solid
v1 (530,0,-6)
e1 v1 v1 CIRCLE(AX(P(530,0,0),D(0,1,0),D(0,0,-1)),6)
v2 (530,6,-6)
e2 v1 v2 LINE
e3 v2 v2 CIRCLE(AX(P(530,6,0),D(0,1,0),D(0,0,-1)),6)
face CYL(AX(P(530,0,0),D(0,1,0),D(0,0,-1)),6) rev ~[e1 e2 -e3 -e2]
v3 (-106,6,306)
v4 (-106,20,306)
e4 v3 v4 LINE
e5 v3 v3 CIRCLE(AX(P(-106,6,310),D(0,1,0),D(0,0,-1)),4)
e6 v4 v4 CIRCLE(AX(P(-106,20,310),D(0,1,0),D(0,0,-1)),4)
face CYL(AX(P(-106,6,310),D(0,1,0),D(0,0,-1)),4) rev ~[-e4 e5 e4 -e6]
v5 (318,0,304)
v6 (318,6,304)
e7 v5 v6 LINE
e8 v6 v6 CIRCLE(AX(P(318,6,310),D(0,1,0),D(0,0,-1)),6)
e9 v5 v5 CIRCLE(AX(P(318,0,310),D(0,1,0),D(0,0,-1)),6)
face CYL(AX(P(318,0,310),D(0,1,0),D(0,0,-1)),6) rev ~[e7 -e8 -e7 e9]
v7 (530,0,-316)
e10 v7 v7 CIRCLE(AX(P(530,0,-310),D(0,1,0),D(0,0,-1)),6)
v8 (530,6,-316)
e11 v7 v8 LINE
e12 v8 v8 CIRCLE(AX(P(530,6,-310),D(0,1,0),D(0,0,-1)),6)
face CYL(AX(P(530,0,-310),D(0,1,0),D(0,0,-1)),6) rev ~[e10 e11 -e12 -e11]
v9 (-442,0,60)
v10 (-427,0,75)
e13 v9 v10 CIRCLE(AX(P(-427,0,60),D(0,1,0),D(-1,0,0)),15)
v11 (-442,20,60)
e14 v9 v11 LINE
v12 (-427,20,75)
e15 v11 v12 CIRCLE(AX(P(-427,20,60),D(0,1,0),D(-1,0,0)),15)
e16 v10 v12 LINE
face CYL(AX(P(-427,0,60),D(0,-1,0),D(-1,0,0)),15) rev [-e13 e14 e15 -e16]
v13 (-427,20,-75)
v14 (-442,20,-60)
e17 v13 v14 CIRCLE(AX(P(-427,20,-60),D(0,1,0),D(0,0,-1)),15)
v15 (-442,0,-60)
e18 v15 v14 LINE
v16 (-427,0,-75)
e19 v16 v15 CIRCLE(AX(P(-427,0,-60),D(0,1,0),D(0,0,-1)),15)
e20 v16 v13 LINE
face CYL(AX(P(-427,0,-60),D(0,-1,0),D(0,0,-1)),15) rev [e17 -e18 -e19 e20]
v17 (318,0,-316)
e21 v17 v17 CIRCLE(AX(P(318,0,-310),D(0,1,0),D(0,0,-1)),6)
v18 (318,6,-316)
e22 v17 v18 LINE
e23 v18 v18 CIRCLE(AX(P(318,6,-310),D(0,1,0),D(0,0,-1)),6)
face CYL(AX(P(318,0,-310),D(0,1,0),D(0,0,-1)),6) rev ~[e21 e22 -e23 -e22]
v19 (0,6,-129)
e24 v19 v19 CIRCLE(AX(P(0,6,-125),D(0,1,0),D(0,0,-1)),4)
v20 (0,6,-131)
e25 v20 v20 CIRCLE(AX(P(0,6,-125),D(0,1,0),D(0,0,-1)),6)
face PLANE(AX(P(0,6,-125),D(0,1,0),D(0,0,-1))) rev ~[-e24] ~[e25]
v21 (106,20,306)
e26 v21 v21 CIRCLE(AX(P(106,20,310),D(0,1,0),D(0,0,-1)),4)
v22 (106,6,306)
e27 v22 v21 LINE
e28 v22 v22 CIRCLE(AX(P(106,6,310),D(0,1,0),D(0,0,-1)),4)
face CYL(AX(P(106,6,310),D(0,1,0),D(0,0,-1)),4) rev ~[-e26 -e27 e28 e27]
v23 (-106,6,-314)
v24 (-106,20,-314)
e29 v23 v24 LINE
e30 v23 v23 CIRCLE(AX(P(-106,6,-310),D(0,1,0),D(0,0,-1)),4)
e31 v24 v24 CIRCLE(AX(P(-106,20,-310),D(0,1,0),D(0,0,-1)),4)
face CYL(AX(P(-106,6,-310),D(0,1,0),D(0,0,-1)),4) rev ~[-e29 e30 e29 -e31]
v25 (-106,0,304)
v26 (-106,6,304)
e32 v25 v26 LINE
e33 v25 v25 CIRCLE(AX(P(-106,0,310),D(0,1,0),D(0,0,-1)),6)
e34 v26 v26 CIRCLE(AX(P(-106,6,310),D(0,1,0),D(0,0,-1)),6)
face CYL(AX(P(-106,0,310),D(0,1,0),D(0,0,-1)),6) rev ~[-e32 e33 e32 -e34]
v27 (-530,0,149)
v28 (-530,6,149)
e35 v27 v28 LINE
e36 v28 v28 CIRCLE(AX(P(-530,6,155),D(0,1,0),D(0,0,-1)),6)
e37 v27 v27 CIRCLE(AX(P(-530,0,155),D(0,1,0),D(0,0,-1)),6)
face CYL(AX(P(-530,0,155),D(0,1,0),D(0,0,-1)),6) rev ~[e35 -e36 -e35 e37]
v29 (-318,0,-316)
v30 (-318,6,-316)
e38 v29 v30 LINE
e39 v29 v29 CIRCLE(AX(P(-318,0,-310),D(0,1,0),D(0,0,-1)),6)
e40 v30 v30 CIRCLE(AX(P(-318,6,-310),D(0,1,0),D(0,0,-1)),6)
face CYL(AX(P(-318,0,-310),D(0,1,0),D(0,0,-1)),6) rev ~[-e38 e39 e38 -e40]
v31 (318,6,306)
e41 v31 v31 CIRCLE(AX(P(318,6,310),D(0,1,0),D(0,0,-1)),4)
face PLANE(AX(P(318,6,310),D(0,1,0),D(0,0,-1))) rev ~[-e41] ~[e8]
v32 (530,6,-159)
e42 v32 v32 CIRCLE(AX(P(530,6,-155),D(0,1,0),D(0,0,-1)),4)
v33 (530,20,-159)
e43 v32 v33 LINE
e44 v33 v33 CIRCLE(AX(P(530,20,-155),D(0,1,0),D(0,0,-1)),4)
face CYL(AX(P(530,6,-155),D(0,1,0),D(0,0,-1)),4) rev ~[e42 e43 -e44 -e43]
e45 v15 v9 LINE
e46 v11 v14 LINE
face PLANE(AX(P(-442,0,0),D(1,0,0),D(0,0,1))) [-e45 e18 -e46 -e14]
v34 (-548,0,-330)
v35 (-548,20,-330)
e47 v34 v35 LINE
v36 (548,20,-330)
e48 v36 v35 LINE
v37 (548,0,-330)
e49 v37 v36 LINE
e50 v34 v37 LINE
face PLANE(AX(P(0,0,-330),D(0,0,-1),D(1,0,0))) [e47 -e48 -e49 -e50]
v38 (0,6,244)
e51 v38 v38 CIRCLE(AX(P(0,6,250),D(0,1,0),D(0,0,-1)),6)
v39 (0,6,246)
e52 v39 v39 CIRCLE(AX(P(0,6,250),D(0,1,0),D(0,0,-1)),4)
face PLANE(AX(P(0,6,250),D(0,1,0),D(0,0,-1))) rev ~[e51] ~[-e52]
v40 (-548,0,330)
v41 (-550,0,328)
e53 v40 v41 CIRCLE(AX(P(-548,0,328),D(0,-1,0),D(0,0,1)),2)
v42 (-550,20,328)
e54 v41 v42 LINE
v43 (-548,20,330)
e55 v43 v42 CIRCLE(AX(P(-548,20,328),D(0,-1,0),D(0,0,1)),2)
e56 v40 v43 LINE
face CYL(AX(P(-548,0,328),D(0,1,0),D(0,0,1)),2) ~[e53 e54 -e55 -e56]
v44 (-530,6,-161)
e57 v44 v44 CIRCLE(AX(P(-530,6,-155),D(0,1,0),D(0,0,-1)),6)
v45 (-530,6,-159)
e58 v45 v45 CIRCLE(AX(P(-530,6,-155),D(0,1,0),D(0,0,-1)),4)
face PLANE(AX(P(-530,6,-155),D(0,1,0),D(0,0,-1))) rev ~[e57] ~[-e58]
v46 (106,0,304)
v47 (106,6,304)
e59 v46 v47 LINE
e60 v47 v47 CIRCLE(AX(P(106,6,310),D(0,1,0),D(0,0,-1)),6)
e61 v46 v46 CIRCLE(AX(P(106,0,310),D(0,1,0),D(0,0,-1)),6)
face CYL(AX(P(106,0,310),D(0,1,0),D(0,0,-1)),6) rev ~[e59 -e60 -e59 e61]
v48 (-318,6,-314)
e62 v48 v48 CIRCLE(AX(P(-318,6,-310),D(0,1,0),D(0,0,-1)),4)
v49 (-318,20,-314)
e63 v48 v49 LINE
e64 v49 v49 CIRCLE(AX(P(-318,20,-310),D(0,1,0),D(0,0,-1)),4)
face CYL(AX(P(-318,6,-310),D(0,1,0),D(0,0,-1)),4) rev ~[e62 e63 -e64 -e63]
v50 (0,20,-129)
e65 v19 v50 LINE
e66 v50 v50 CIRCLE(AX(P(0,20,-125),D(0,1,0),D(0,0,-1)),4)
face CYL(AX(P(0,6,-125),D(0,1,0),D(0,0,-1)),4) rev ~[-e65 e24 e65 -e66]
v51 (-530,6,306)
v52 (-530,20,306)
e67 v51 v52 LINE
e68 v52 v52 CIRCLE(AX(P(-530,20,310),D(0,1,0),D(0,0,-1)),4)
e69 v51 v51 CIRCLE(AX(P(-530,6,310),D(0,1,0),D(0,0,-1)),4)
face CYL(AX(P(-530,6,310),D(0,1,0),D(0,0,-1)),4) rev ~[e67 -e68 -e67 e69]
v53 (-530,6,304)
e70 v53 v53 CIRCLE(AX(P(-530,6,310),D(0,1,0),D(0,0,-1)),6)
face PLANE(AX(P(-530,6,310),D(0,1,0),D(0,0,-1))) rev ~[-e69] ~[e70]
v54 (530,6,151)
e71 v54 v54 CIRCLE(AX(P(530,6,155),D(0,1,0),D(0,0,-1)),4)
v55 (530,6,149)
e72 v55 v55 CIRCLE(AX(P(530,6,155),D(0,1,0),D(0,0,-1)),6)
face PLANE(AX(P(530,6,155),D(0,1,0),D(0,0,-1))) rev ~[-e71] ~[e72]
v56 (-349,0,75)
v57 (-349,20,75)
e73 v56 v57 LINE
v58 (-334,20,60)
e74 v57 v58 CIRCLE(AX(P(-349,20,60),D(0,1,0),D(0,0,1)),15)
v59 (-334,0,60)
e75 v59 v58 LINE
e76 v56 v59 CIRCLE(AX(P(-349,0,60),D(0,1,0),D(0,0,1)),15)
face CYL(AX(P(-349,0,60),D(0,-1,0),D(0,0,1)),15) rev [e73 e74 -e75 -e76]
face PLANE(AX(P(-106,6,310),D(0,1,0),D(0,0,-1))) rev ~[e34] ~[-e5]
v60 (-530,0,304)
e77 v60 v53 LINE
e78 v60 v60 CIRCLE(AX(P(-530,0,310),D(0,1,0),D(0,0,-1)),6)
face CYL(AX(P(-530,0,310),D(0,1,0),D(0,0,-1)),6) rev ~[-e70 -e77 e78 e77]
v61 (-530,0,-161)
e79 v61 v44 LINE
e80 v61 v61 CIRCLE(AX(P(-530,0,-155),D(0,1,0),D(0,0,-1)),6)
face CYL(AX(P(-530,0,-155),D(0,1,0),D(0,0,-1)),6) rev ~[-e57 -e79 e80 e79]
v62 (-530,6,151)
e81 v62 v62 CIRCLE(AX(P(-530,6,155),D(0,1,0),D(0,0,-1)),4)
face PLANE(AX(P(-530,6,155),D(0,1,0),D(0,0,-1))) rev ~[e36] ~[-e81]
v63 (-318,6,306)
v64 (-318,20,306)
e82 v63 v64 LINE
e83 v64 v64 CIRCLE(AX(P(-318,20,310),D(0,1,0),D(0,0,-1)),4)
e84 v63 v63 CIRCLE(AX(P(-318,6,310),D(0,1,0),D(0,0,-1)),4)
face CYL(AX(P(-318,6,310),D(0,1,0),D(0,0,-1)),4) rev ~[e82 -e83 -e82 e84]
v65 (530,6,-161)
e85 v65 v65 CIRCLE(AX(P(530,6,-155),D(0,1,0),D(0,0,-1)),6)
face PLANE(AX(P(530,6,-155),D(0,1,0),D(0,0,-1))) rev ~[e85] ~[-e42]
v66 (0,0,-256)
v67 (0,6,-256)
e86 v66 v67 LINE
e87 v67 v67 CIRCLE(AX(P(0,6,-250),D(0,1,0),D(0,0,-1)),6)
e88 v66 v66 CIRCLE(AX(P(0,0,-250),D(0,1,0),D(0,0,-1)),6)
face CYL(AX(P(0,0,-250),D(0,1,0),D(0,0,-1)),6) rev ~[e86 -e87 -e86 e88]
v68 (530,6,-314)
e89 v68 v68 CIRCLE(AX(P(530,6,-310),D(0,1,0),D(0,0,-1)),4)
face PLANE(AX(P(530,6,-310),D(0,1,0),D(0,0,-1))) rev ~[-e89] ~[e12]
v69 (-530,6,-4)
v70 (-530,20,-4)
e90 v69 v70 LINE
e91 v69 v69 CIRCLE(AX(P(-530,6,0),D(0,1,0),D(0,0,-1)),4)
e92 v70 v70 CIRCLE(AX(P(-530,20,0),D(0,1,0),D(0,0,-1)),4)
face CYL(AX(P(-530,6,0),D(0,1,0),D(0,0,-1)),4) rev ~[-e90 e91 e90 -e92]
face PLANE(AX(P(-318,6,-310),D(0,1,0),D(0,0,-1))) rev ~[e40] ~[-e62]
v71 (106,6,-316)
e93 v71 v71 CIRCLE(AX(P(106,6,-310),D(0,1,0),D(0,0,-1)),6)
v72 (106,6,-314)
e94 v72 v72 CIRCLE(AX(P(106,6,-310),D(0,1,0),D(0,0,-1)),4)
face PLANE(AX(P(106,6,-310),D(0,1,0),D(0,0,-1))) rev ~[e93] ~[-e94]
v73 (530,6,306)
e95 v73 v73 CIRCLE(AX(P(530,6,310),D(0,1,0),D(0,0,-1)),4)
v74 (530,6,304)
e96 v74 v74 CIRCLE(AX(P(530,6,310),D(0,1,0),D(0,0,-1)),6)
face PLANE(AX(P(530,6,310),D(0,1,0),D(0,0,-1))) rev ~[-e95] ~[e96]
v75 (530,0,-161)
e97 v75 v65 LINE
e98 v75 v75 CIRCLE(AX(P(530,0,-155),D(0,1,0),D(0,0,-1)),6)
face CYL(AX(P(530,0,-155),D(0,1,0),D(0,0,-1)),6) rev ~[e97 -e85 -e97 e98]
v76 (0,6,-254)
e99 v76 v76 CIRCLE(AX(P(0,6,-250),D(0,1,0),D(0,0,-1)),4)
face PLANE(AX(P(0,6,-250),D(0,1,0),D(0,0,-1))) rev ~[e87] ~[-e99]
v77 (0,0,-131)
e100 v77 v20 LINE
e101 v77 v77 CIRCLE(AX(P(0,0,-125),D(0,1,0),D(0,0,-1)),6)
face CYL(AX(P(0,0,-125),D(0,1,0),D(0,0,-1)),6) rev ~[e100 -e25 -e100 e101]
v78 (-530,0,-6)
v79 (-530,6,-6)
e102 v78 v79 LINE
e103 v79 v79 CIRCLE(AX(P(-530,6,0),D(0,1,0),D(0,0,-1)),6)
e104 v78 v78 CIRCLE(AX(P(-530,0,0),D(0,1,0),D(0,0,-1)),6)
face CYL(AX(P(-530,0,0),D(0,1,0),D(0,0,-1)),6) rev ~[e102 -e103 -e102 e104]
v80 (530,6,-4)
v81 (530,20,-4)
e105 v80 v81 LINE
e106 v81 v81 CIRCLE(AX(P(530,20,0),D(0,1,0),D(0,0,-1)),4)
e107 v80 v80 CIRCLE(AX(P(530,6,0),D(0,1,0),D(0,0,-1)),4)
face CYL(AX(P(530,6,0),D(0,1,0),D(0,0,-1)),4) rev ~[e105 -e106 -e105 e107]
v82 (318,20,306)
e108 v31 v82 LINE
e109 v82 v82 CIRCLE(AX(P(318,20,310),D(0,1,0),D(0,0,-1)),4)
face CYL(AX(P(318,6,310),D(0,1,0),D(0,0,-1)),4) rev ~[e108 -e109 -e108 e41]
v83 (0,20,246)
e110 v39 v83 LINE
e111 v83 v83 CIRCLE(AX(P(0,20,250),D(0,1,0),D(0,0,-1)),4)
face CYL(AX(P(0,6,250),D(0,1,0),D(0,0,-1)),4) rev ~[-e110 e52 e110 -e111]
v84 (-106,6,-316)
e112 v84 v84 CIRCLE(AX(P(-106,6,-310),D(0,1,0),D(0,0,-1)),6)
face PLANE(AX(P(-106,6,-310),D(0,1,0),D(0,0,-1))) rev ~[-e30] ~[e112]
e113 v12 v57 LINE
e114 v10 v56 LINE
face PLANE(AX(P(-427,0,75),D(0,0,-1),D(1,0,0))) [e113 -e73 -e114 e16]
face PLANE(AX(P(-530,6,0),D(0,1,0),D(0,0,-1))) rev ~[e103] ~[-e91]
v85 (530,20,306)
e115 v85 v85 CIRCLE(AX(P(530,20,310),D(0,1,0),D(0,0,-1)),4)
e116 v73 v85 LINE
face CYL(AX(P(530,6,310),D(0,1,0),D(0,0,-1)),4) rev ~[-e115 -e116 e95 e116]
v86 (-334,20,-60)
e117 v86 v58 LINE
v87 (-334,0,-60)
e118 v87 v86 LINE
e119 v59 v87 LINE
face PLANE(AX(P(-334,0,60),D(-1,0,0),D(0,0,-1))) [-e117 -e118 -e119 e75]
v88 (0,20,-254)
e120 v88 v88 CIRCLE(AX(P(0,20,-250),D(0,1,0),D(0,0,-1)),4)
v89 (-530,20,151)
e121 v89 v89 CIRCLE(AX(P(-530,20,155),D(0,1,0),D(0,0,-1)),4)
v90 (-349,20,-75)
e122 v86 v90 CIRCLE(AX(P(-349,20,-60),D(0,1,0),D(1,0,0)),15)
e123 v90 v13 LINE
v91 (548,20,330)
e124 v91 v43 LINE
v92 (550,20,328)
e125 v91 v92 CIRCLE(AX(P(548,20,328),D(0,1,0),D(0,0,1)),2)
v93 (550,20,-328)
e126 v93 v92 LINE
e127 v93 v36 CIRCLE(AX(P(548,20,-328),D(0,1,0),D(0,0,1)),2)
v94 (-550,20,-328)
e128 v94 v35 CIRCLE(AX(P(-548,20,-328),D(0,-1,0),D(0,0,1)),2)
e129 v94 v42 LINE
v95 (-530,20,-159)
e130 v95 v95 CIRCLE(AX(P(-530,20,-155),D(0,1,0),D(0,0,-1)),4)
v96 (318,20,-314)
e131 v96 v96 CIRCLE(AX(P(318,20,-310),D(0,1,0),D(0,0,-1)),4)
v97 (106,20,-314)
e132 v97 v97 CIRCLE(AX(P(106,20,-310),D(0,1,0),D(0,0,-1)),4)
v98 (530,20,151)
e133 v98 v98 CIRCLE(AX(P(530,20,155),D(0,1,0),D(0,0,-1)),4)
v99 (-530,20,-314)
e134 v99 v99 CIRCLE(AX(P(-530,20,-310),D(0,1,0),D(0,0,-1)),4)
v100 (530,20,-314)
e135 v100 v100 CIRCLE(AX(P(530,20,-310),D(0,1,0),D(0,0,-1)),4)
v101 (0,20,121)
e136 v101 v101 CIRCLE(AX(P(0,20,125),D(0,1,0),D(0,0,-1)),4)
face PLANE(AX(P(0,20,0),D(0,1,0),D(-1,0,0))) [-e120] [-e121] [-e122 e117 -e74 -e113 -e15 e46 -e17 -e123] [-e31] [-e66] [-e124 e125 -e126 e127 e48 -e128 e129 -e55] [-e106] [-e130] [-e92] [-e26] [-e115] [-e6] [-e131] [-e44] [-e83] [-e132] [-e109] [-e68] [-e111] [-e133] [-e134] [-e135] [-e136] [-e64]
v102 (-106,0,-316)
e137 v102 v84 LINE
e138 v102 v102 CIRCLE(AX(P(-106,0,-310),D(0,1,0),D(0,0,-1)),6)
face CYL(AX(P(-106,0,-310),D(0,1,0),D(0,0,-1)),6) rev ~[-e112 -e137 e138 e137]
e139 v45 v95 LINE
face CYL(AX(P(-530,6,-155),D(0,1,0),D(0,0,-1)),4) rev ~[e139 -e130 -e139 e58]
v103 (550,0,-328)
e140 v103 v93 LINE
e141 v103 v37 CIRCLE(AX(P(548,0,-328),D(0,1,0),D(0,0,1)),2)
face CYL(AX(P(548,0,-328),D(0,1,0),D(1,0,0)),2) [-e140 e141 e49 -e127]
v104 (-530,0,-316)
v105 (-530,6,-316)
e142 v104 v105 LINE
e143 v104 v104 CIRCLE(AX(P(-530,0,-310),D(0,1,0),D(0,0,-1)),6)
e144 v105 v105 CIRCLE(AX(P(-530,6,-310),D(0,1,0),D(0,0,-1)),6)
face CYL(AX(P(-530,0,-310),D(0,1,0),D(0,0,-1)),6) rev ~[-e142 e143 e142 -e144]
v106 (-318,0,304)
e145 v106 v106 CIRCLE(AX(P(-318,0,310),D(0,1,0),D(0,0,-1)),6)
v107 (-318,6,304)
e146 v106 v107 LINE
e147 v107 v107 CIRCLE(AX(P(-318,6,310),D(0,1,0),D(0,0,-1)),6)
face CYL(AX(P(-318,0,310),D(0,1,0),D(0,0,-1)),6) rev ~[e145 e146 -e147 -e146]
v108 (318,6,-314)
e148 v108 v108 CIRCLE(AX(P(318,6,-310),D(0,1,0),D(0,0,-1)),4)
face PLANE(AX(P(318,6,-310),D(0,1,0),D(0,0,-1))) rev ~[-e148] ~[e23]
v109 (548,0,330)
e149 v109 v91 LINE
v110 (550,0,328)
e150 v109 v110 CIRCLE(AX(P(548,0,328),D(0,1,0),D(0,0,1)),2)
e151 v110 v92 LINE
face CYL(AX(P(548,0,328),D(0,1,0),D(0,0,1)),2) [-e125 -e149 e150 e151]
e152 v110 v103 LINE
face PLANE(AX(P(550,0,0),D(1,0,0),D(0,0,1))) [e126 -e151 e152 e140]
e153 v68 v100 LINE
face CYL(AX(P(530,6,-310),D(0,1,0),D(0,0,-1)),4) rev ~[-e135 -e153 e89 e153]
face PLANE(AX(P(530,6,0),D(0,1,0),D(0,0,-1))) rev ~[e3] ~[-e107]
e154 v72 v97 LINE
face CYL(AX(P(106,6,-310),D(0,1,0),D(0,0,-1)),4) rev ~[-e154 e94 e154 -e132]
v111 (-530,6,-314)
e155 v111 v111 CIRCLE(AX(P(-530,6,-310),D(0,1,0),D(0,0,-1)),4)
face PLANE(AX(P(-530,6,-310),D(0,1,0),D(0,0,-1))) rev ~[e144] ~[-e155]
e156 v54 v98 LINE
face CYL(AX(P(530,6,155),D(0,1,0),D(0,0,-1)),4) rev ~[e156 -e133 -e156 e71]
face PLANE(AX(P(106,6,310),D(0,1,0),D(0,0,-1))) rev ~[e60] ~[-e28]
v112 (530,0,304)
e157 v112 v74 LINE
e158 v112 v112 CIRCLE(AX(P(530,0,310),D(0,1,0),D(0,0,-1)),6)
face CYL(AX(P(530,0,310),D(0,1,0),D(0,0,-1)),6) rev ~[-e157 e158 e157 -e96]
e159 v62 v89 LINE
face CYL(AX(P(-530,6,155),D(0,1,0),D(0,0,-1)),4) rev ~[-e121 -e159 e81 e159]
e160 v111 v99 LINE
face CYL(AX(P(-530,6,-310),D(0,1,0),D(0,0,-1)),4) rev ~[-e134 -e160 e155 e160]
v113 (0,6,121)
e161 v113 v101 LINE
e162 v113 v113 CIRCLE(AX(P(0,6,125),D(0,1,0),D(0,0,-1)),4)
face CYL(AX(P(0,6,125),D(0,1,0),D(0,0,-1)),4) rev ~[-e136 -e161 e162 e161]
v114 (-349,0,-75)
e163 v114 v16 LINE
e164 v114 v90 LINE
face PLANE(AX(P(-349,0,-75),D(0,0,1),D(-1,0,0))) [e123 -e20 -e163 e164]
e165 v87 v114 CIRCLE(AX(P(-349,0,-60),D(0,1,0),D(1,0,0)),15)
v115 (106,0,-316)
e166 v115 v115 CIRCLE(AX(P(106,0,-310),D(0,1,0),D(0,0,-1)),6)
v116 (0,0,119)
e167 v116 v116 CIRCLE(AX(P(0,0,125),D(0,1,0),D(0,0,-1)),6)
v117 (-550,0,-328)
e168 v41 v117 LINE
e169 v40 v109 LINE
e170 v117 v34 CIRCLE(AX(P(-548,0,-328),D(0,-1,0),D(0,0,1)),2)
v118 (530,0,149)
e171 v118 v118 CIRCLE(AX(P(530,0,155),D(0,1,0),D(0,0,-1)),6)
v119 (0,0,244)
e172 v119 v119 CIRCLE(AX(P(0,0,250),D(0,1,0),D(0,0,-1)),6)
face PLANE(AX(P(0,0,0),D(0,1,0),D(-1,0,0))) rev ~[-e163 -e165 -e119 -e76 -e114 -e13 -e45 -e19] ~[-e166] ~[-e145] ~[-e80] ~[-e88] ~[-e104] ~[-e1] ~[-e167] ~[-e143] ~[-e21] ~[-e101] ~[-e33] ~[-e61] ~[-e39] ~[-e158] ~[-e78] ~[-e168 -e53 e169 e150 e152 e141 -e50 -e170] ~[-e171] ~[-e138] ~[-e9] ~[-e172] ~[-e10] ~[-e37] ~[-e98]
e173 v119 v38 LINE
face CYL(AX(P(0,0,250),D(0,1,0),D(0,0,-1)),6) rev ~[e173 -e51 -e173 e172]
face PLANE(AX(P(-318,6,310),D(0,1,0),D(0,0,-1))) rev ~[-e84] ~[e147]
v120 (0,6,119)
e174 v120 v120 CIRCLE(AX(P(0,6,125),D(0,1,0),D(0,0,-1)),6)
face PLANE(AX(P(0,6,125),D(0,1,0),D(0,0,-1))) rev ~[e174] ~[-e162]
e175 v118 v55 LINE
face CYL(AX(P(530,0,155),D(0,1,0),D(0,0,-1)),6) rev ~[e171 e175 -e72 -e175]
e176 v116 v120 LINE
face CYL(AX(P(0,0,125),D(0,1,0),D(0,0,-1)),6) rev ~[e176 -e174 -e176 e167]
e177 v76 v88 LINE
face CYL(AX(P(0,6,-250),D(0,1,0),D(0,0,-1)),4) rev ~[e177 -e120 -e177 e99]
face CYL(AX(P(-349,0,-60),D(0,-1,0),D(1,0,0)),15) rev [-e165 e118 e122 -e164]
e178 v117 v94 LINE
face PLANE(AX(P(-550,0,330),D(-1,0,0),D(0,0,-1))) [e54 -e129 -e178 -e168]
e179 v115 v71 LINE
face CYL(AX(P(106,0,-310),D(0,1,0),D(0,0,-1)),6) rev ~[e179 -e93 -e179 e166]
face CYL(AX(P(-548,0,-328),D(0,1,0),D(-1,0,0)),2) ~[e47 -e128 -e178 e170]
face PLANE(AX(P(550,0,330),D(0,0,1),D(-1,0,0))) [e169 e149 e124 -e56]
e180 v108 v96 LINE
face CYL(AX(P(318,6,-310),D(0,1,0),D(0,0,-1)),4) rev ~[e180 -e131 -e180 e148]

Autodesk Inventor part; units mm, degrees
ref_plane "YZ Plane" through (0, 0, 0) normal (1, 0, 0) x (0, 1, 0)
ref_plane "XZ Plane" through (0, 0, 0) normal (0, 1, 0) x (-1, 0, 0)
ref_plane "XY Plane" through (0, 0, 0) normal (0, 0, 1) x (1, 0, 0)
sketch "スケッチ1" plane through (0, 0, 0) normal (0, 1, 0) x (-1, 0, 0)
  line L0 (-550, 330) -> (550, 330)
  line L1 (550, 330) -> (550, -330)
  line L2 (550, -330) -> (-550, -330)
  line L3 (-550, -330) -> (-550, 330)
  line L4 (-550, 330) -> (550, -330) construction
  line L5 (550, 330) -> (-550, -330) construction
  line L6 (427, 75) -> (349, 75)
  line L7 (334, 60) -> (334, -60)
  line L8 (349, -75) -> (427, -75)
  line L9 (442, -60) -> (442, 60)
  line L10 (442, 75) -> (334, -75) construction
  line L11 (334, 75) -> (442, -75) construction
  arc A0 (442, 60) -> (427, 75) centre (427, 60) ccw
  arc A1 (349, 75) -> (334, 60) centre (349, 60) ccw
  arc A2 (427, -75) -> (442, -60) centre (427, -60) ccw
  arc A3 (334, -60) -> (349, -75) centre (349, -60) ccw
  circle A4 centre (-530, 310) radius 5
  circle A5 centre (-530, -310) radius 5
  circle A6 centre (-530, 0) radius 5
  circle A7 centre (-530, 155) radius 5
  circle A8 centre (-530, -155) radius 5
  line L12 (0, -462) -> (0, 462) projected
  circle A9 centre (530, 310) radius 5
  circle A10 centre (530, -310) radius 5
  circle A11 centre (530, 0) radius 5
  circle A12 centre (530, 155) radius 5
  circle A13 centre (530, -155) radius 5
  circle A14 centre (318, 310) radius 5
  circle A15 centre (106, 310) radius 5
  circle A16 centre (-106, 310) radius 5
  circle A17 centre (-318, 310) radius 5
  line L13 (770, 0) -> (-770, 0) projected
  circle A18 centre (318, -310) radius 5
  circle A19 centre (106, -310) radius 5
  circle A20 centre (-106, -310) radius 5
  circle A21 centre (-318, -310) radius 5
  point P0 (0, 0)
  point P1 (388, 0)
  point P2 (0, -250)
  point P3 (0, -125)
  point P4 (0, 125)
  point P5 (0, 250)
  dimension "d0" = 1100
  dimension "d1" = 660
  dimension "d2" = 108
  dimension "d3" = 108
  dimension "d4" = 150
  dimension "d5" = 255
  dimension "d6" = 15
  dimension "d7" = 15
  dimension "d8" = 10
  dimension "d9" = 20
  dimension "d10" = 20
  dimension "d11" = 10
  dimension "d12" = 20
  dimension "d13" = 20
  dimension "d14" = 10
  dimension "d15" = 10
  dimension "d16" = 155
  dimension "d17" = 10
  dimension "d18" = 155
  dimension "d19" = 20
  dimension "d20" = 20
  dimension "d21" = 20
  dimension "d24" = 212
  dimension "d185" = 80
  dimension "d186" = 205
  dimension "d187" = 80
  dimension "d188" = 205
extrude "押し出し1" add sketch "スケッチ1" along normal blind 20 contours L0 L12 L13 A6 L3 | L0 L1 L13 A11 L9 A0 L6 A1 L7 L12 | L13 A6 L12 L2 L3 | L13 L7 A3 L8 A2 L9 A11 L1 L2 L12
extrude "押し出し2" add sketch "スケッチ1" along normal blind 20 contours A9 | A14 | A15 | A16 | A17
extrude "押し出し3" cut sketch "スケッチ1" along normal blind 20 contours L13 A6 | A6 L13 | L13 A11 | A11 L13 | A4 | A5 | A7 | A8 | A10 | A12 | A13 | A17 | A18 | A19 | A20 | A21
extrude "押し出し4" add sketch "スケッチ1" along normal blind 20 contours L13 A11 | A11 L13 | A10 | A12 | A13 | A18 | A19
extrude "押し出し5" add sketch "スケッチ1" along normal blind 20 contours L0 L12 L13 A6 L3 | L0 L1 L13 A11 L9 A0 L6 A1 L7 L12 | L13 A6 L12 L2 L3 | L13 L7 A3 L8 A2 L9 A11 L1 L2 L12 | L13 A6 | A6 L13 | A5 | A8 | A20 | A21
extrude "押し出し6" add sketch "スケッチ1" along normal blind 20 contours L0 L12 L13 A6 L3 | L0 L1 L13 A11 L9 A0 L6 A1 L7 L12 | L13 A6 L12 L2 L3 | L13 L7 A3 L8 A2 L9 A11 L1 L2 L12 | A4 | A7 | A17
hole "穴1" at (530, 0, 310) direction (0, 1, 0) diameter 8 depth 20 counterbore diameter 12 counterbore depth 6
hole "穴2" at (318, 0, 310) direction (0, 1, 0) diameter 8 depth 20 counterbore diameter 12 counterbore depth 6
hole "穴3" at (106, 0, 310) direction (0, 1, 0) diameter 8 depth 20 counterbore diameter 12 counterbore depth 6
hole "穴4" at (-106, 0, 310) direction (0, 1, 0) diameter 8 depth 20 counterbore diameter 12 counterbore depth 6
hole "穴5" at (-318, 0, 310) direction (0, 1, 0) diameter 8 depth 20 counterbore diameter 12 counterbore depth 6
hole "穴6" at (-530, 0, 310) direction (0, 1, 0) diameter 8 depth 20 counterbore diameter 12 counterbore depth 6
hole "穴7" at (-530, 0, 155) direction (0, 1, 0) diameter 8 depth 20 counterbore diameter 12 counterbore depth 6
hole "穴8" at (-530, 0, 0) direction (0, 1, 0) diameter 8 depth 20 counterbore diameter 12 counterbore depth 6
hole "穴9" at (-530, 0, -155) direction (0, 1, 0) diameter 8 depth 20 counterbore diameter 12 counterbore depth 6
hole "穴10" at (-530, 0, -310) direction (0, 1, 0) diameter 8 depth 20 counterbore diameter 12 counterbore depth 6
hole "穴11" at (-318, 0, -310) direction (0, 1, 0) diameter 8 depth 20 counterbore diameter 12 counterbore depth 6
hole "穴12" at (-106, 0, -310) direction (0, 1, 0) diameter 8 depth 20 counterbore diameter 12 counterbore depth 6
hole "穴13" at (106, 0, -310) direction (0, 1, 0) diameter 8 depth 20 counterbore diameter 12 counterbore depth 6
hole "穴14" at (318, 0, -310) direction (0, 1, 0) diameter 8 depth 20 counterbore diameter 12 counterbore depth 6
hole "穴15" at (530, 0, -310) direction (0, 1, 0) diameter 8 depth 20 counterbore diameter 12 counterbore depth 6
hole "穴16" at (530, 0, -155) direction (0, 1, 0) diameter 8 depth 20 counterbore diameter 12 counterbore depth 6
hole "穴17" at (530, 0, 0) direction (0, 1, 0) diameter 8 depth 20 counterbore diameter 12 counterbore depth 6
hole "穴18" at (530, 0, 155) direction (0, 1, 0) diameter 8 depth 20 counterbore diameter 12 counterbore depth 6
fillet "フィレット1" radius 2 4 edges at (550, 10, -330) (-550, 10, -330) (-550, 10, 330) (550, 10, 330)
hole "穴19" at (0, 0, -250) at (0, 0, -125) at (0, 0, 125) at (0, 0, 250) direction (0, 1, 0) diameter 8 depth 20 counterbore diameter 12 counterbore depth 6
properties part number "board" material "ステンレス鋼"
